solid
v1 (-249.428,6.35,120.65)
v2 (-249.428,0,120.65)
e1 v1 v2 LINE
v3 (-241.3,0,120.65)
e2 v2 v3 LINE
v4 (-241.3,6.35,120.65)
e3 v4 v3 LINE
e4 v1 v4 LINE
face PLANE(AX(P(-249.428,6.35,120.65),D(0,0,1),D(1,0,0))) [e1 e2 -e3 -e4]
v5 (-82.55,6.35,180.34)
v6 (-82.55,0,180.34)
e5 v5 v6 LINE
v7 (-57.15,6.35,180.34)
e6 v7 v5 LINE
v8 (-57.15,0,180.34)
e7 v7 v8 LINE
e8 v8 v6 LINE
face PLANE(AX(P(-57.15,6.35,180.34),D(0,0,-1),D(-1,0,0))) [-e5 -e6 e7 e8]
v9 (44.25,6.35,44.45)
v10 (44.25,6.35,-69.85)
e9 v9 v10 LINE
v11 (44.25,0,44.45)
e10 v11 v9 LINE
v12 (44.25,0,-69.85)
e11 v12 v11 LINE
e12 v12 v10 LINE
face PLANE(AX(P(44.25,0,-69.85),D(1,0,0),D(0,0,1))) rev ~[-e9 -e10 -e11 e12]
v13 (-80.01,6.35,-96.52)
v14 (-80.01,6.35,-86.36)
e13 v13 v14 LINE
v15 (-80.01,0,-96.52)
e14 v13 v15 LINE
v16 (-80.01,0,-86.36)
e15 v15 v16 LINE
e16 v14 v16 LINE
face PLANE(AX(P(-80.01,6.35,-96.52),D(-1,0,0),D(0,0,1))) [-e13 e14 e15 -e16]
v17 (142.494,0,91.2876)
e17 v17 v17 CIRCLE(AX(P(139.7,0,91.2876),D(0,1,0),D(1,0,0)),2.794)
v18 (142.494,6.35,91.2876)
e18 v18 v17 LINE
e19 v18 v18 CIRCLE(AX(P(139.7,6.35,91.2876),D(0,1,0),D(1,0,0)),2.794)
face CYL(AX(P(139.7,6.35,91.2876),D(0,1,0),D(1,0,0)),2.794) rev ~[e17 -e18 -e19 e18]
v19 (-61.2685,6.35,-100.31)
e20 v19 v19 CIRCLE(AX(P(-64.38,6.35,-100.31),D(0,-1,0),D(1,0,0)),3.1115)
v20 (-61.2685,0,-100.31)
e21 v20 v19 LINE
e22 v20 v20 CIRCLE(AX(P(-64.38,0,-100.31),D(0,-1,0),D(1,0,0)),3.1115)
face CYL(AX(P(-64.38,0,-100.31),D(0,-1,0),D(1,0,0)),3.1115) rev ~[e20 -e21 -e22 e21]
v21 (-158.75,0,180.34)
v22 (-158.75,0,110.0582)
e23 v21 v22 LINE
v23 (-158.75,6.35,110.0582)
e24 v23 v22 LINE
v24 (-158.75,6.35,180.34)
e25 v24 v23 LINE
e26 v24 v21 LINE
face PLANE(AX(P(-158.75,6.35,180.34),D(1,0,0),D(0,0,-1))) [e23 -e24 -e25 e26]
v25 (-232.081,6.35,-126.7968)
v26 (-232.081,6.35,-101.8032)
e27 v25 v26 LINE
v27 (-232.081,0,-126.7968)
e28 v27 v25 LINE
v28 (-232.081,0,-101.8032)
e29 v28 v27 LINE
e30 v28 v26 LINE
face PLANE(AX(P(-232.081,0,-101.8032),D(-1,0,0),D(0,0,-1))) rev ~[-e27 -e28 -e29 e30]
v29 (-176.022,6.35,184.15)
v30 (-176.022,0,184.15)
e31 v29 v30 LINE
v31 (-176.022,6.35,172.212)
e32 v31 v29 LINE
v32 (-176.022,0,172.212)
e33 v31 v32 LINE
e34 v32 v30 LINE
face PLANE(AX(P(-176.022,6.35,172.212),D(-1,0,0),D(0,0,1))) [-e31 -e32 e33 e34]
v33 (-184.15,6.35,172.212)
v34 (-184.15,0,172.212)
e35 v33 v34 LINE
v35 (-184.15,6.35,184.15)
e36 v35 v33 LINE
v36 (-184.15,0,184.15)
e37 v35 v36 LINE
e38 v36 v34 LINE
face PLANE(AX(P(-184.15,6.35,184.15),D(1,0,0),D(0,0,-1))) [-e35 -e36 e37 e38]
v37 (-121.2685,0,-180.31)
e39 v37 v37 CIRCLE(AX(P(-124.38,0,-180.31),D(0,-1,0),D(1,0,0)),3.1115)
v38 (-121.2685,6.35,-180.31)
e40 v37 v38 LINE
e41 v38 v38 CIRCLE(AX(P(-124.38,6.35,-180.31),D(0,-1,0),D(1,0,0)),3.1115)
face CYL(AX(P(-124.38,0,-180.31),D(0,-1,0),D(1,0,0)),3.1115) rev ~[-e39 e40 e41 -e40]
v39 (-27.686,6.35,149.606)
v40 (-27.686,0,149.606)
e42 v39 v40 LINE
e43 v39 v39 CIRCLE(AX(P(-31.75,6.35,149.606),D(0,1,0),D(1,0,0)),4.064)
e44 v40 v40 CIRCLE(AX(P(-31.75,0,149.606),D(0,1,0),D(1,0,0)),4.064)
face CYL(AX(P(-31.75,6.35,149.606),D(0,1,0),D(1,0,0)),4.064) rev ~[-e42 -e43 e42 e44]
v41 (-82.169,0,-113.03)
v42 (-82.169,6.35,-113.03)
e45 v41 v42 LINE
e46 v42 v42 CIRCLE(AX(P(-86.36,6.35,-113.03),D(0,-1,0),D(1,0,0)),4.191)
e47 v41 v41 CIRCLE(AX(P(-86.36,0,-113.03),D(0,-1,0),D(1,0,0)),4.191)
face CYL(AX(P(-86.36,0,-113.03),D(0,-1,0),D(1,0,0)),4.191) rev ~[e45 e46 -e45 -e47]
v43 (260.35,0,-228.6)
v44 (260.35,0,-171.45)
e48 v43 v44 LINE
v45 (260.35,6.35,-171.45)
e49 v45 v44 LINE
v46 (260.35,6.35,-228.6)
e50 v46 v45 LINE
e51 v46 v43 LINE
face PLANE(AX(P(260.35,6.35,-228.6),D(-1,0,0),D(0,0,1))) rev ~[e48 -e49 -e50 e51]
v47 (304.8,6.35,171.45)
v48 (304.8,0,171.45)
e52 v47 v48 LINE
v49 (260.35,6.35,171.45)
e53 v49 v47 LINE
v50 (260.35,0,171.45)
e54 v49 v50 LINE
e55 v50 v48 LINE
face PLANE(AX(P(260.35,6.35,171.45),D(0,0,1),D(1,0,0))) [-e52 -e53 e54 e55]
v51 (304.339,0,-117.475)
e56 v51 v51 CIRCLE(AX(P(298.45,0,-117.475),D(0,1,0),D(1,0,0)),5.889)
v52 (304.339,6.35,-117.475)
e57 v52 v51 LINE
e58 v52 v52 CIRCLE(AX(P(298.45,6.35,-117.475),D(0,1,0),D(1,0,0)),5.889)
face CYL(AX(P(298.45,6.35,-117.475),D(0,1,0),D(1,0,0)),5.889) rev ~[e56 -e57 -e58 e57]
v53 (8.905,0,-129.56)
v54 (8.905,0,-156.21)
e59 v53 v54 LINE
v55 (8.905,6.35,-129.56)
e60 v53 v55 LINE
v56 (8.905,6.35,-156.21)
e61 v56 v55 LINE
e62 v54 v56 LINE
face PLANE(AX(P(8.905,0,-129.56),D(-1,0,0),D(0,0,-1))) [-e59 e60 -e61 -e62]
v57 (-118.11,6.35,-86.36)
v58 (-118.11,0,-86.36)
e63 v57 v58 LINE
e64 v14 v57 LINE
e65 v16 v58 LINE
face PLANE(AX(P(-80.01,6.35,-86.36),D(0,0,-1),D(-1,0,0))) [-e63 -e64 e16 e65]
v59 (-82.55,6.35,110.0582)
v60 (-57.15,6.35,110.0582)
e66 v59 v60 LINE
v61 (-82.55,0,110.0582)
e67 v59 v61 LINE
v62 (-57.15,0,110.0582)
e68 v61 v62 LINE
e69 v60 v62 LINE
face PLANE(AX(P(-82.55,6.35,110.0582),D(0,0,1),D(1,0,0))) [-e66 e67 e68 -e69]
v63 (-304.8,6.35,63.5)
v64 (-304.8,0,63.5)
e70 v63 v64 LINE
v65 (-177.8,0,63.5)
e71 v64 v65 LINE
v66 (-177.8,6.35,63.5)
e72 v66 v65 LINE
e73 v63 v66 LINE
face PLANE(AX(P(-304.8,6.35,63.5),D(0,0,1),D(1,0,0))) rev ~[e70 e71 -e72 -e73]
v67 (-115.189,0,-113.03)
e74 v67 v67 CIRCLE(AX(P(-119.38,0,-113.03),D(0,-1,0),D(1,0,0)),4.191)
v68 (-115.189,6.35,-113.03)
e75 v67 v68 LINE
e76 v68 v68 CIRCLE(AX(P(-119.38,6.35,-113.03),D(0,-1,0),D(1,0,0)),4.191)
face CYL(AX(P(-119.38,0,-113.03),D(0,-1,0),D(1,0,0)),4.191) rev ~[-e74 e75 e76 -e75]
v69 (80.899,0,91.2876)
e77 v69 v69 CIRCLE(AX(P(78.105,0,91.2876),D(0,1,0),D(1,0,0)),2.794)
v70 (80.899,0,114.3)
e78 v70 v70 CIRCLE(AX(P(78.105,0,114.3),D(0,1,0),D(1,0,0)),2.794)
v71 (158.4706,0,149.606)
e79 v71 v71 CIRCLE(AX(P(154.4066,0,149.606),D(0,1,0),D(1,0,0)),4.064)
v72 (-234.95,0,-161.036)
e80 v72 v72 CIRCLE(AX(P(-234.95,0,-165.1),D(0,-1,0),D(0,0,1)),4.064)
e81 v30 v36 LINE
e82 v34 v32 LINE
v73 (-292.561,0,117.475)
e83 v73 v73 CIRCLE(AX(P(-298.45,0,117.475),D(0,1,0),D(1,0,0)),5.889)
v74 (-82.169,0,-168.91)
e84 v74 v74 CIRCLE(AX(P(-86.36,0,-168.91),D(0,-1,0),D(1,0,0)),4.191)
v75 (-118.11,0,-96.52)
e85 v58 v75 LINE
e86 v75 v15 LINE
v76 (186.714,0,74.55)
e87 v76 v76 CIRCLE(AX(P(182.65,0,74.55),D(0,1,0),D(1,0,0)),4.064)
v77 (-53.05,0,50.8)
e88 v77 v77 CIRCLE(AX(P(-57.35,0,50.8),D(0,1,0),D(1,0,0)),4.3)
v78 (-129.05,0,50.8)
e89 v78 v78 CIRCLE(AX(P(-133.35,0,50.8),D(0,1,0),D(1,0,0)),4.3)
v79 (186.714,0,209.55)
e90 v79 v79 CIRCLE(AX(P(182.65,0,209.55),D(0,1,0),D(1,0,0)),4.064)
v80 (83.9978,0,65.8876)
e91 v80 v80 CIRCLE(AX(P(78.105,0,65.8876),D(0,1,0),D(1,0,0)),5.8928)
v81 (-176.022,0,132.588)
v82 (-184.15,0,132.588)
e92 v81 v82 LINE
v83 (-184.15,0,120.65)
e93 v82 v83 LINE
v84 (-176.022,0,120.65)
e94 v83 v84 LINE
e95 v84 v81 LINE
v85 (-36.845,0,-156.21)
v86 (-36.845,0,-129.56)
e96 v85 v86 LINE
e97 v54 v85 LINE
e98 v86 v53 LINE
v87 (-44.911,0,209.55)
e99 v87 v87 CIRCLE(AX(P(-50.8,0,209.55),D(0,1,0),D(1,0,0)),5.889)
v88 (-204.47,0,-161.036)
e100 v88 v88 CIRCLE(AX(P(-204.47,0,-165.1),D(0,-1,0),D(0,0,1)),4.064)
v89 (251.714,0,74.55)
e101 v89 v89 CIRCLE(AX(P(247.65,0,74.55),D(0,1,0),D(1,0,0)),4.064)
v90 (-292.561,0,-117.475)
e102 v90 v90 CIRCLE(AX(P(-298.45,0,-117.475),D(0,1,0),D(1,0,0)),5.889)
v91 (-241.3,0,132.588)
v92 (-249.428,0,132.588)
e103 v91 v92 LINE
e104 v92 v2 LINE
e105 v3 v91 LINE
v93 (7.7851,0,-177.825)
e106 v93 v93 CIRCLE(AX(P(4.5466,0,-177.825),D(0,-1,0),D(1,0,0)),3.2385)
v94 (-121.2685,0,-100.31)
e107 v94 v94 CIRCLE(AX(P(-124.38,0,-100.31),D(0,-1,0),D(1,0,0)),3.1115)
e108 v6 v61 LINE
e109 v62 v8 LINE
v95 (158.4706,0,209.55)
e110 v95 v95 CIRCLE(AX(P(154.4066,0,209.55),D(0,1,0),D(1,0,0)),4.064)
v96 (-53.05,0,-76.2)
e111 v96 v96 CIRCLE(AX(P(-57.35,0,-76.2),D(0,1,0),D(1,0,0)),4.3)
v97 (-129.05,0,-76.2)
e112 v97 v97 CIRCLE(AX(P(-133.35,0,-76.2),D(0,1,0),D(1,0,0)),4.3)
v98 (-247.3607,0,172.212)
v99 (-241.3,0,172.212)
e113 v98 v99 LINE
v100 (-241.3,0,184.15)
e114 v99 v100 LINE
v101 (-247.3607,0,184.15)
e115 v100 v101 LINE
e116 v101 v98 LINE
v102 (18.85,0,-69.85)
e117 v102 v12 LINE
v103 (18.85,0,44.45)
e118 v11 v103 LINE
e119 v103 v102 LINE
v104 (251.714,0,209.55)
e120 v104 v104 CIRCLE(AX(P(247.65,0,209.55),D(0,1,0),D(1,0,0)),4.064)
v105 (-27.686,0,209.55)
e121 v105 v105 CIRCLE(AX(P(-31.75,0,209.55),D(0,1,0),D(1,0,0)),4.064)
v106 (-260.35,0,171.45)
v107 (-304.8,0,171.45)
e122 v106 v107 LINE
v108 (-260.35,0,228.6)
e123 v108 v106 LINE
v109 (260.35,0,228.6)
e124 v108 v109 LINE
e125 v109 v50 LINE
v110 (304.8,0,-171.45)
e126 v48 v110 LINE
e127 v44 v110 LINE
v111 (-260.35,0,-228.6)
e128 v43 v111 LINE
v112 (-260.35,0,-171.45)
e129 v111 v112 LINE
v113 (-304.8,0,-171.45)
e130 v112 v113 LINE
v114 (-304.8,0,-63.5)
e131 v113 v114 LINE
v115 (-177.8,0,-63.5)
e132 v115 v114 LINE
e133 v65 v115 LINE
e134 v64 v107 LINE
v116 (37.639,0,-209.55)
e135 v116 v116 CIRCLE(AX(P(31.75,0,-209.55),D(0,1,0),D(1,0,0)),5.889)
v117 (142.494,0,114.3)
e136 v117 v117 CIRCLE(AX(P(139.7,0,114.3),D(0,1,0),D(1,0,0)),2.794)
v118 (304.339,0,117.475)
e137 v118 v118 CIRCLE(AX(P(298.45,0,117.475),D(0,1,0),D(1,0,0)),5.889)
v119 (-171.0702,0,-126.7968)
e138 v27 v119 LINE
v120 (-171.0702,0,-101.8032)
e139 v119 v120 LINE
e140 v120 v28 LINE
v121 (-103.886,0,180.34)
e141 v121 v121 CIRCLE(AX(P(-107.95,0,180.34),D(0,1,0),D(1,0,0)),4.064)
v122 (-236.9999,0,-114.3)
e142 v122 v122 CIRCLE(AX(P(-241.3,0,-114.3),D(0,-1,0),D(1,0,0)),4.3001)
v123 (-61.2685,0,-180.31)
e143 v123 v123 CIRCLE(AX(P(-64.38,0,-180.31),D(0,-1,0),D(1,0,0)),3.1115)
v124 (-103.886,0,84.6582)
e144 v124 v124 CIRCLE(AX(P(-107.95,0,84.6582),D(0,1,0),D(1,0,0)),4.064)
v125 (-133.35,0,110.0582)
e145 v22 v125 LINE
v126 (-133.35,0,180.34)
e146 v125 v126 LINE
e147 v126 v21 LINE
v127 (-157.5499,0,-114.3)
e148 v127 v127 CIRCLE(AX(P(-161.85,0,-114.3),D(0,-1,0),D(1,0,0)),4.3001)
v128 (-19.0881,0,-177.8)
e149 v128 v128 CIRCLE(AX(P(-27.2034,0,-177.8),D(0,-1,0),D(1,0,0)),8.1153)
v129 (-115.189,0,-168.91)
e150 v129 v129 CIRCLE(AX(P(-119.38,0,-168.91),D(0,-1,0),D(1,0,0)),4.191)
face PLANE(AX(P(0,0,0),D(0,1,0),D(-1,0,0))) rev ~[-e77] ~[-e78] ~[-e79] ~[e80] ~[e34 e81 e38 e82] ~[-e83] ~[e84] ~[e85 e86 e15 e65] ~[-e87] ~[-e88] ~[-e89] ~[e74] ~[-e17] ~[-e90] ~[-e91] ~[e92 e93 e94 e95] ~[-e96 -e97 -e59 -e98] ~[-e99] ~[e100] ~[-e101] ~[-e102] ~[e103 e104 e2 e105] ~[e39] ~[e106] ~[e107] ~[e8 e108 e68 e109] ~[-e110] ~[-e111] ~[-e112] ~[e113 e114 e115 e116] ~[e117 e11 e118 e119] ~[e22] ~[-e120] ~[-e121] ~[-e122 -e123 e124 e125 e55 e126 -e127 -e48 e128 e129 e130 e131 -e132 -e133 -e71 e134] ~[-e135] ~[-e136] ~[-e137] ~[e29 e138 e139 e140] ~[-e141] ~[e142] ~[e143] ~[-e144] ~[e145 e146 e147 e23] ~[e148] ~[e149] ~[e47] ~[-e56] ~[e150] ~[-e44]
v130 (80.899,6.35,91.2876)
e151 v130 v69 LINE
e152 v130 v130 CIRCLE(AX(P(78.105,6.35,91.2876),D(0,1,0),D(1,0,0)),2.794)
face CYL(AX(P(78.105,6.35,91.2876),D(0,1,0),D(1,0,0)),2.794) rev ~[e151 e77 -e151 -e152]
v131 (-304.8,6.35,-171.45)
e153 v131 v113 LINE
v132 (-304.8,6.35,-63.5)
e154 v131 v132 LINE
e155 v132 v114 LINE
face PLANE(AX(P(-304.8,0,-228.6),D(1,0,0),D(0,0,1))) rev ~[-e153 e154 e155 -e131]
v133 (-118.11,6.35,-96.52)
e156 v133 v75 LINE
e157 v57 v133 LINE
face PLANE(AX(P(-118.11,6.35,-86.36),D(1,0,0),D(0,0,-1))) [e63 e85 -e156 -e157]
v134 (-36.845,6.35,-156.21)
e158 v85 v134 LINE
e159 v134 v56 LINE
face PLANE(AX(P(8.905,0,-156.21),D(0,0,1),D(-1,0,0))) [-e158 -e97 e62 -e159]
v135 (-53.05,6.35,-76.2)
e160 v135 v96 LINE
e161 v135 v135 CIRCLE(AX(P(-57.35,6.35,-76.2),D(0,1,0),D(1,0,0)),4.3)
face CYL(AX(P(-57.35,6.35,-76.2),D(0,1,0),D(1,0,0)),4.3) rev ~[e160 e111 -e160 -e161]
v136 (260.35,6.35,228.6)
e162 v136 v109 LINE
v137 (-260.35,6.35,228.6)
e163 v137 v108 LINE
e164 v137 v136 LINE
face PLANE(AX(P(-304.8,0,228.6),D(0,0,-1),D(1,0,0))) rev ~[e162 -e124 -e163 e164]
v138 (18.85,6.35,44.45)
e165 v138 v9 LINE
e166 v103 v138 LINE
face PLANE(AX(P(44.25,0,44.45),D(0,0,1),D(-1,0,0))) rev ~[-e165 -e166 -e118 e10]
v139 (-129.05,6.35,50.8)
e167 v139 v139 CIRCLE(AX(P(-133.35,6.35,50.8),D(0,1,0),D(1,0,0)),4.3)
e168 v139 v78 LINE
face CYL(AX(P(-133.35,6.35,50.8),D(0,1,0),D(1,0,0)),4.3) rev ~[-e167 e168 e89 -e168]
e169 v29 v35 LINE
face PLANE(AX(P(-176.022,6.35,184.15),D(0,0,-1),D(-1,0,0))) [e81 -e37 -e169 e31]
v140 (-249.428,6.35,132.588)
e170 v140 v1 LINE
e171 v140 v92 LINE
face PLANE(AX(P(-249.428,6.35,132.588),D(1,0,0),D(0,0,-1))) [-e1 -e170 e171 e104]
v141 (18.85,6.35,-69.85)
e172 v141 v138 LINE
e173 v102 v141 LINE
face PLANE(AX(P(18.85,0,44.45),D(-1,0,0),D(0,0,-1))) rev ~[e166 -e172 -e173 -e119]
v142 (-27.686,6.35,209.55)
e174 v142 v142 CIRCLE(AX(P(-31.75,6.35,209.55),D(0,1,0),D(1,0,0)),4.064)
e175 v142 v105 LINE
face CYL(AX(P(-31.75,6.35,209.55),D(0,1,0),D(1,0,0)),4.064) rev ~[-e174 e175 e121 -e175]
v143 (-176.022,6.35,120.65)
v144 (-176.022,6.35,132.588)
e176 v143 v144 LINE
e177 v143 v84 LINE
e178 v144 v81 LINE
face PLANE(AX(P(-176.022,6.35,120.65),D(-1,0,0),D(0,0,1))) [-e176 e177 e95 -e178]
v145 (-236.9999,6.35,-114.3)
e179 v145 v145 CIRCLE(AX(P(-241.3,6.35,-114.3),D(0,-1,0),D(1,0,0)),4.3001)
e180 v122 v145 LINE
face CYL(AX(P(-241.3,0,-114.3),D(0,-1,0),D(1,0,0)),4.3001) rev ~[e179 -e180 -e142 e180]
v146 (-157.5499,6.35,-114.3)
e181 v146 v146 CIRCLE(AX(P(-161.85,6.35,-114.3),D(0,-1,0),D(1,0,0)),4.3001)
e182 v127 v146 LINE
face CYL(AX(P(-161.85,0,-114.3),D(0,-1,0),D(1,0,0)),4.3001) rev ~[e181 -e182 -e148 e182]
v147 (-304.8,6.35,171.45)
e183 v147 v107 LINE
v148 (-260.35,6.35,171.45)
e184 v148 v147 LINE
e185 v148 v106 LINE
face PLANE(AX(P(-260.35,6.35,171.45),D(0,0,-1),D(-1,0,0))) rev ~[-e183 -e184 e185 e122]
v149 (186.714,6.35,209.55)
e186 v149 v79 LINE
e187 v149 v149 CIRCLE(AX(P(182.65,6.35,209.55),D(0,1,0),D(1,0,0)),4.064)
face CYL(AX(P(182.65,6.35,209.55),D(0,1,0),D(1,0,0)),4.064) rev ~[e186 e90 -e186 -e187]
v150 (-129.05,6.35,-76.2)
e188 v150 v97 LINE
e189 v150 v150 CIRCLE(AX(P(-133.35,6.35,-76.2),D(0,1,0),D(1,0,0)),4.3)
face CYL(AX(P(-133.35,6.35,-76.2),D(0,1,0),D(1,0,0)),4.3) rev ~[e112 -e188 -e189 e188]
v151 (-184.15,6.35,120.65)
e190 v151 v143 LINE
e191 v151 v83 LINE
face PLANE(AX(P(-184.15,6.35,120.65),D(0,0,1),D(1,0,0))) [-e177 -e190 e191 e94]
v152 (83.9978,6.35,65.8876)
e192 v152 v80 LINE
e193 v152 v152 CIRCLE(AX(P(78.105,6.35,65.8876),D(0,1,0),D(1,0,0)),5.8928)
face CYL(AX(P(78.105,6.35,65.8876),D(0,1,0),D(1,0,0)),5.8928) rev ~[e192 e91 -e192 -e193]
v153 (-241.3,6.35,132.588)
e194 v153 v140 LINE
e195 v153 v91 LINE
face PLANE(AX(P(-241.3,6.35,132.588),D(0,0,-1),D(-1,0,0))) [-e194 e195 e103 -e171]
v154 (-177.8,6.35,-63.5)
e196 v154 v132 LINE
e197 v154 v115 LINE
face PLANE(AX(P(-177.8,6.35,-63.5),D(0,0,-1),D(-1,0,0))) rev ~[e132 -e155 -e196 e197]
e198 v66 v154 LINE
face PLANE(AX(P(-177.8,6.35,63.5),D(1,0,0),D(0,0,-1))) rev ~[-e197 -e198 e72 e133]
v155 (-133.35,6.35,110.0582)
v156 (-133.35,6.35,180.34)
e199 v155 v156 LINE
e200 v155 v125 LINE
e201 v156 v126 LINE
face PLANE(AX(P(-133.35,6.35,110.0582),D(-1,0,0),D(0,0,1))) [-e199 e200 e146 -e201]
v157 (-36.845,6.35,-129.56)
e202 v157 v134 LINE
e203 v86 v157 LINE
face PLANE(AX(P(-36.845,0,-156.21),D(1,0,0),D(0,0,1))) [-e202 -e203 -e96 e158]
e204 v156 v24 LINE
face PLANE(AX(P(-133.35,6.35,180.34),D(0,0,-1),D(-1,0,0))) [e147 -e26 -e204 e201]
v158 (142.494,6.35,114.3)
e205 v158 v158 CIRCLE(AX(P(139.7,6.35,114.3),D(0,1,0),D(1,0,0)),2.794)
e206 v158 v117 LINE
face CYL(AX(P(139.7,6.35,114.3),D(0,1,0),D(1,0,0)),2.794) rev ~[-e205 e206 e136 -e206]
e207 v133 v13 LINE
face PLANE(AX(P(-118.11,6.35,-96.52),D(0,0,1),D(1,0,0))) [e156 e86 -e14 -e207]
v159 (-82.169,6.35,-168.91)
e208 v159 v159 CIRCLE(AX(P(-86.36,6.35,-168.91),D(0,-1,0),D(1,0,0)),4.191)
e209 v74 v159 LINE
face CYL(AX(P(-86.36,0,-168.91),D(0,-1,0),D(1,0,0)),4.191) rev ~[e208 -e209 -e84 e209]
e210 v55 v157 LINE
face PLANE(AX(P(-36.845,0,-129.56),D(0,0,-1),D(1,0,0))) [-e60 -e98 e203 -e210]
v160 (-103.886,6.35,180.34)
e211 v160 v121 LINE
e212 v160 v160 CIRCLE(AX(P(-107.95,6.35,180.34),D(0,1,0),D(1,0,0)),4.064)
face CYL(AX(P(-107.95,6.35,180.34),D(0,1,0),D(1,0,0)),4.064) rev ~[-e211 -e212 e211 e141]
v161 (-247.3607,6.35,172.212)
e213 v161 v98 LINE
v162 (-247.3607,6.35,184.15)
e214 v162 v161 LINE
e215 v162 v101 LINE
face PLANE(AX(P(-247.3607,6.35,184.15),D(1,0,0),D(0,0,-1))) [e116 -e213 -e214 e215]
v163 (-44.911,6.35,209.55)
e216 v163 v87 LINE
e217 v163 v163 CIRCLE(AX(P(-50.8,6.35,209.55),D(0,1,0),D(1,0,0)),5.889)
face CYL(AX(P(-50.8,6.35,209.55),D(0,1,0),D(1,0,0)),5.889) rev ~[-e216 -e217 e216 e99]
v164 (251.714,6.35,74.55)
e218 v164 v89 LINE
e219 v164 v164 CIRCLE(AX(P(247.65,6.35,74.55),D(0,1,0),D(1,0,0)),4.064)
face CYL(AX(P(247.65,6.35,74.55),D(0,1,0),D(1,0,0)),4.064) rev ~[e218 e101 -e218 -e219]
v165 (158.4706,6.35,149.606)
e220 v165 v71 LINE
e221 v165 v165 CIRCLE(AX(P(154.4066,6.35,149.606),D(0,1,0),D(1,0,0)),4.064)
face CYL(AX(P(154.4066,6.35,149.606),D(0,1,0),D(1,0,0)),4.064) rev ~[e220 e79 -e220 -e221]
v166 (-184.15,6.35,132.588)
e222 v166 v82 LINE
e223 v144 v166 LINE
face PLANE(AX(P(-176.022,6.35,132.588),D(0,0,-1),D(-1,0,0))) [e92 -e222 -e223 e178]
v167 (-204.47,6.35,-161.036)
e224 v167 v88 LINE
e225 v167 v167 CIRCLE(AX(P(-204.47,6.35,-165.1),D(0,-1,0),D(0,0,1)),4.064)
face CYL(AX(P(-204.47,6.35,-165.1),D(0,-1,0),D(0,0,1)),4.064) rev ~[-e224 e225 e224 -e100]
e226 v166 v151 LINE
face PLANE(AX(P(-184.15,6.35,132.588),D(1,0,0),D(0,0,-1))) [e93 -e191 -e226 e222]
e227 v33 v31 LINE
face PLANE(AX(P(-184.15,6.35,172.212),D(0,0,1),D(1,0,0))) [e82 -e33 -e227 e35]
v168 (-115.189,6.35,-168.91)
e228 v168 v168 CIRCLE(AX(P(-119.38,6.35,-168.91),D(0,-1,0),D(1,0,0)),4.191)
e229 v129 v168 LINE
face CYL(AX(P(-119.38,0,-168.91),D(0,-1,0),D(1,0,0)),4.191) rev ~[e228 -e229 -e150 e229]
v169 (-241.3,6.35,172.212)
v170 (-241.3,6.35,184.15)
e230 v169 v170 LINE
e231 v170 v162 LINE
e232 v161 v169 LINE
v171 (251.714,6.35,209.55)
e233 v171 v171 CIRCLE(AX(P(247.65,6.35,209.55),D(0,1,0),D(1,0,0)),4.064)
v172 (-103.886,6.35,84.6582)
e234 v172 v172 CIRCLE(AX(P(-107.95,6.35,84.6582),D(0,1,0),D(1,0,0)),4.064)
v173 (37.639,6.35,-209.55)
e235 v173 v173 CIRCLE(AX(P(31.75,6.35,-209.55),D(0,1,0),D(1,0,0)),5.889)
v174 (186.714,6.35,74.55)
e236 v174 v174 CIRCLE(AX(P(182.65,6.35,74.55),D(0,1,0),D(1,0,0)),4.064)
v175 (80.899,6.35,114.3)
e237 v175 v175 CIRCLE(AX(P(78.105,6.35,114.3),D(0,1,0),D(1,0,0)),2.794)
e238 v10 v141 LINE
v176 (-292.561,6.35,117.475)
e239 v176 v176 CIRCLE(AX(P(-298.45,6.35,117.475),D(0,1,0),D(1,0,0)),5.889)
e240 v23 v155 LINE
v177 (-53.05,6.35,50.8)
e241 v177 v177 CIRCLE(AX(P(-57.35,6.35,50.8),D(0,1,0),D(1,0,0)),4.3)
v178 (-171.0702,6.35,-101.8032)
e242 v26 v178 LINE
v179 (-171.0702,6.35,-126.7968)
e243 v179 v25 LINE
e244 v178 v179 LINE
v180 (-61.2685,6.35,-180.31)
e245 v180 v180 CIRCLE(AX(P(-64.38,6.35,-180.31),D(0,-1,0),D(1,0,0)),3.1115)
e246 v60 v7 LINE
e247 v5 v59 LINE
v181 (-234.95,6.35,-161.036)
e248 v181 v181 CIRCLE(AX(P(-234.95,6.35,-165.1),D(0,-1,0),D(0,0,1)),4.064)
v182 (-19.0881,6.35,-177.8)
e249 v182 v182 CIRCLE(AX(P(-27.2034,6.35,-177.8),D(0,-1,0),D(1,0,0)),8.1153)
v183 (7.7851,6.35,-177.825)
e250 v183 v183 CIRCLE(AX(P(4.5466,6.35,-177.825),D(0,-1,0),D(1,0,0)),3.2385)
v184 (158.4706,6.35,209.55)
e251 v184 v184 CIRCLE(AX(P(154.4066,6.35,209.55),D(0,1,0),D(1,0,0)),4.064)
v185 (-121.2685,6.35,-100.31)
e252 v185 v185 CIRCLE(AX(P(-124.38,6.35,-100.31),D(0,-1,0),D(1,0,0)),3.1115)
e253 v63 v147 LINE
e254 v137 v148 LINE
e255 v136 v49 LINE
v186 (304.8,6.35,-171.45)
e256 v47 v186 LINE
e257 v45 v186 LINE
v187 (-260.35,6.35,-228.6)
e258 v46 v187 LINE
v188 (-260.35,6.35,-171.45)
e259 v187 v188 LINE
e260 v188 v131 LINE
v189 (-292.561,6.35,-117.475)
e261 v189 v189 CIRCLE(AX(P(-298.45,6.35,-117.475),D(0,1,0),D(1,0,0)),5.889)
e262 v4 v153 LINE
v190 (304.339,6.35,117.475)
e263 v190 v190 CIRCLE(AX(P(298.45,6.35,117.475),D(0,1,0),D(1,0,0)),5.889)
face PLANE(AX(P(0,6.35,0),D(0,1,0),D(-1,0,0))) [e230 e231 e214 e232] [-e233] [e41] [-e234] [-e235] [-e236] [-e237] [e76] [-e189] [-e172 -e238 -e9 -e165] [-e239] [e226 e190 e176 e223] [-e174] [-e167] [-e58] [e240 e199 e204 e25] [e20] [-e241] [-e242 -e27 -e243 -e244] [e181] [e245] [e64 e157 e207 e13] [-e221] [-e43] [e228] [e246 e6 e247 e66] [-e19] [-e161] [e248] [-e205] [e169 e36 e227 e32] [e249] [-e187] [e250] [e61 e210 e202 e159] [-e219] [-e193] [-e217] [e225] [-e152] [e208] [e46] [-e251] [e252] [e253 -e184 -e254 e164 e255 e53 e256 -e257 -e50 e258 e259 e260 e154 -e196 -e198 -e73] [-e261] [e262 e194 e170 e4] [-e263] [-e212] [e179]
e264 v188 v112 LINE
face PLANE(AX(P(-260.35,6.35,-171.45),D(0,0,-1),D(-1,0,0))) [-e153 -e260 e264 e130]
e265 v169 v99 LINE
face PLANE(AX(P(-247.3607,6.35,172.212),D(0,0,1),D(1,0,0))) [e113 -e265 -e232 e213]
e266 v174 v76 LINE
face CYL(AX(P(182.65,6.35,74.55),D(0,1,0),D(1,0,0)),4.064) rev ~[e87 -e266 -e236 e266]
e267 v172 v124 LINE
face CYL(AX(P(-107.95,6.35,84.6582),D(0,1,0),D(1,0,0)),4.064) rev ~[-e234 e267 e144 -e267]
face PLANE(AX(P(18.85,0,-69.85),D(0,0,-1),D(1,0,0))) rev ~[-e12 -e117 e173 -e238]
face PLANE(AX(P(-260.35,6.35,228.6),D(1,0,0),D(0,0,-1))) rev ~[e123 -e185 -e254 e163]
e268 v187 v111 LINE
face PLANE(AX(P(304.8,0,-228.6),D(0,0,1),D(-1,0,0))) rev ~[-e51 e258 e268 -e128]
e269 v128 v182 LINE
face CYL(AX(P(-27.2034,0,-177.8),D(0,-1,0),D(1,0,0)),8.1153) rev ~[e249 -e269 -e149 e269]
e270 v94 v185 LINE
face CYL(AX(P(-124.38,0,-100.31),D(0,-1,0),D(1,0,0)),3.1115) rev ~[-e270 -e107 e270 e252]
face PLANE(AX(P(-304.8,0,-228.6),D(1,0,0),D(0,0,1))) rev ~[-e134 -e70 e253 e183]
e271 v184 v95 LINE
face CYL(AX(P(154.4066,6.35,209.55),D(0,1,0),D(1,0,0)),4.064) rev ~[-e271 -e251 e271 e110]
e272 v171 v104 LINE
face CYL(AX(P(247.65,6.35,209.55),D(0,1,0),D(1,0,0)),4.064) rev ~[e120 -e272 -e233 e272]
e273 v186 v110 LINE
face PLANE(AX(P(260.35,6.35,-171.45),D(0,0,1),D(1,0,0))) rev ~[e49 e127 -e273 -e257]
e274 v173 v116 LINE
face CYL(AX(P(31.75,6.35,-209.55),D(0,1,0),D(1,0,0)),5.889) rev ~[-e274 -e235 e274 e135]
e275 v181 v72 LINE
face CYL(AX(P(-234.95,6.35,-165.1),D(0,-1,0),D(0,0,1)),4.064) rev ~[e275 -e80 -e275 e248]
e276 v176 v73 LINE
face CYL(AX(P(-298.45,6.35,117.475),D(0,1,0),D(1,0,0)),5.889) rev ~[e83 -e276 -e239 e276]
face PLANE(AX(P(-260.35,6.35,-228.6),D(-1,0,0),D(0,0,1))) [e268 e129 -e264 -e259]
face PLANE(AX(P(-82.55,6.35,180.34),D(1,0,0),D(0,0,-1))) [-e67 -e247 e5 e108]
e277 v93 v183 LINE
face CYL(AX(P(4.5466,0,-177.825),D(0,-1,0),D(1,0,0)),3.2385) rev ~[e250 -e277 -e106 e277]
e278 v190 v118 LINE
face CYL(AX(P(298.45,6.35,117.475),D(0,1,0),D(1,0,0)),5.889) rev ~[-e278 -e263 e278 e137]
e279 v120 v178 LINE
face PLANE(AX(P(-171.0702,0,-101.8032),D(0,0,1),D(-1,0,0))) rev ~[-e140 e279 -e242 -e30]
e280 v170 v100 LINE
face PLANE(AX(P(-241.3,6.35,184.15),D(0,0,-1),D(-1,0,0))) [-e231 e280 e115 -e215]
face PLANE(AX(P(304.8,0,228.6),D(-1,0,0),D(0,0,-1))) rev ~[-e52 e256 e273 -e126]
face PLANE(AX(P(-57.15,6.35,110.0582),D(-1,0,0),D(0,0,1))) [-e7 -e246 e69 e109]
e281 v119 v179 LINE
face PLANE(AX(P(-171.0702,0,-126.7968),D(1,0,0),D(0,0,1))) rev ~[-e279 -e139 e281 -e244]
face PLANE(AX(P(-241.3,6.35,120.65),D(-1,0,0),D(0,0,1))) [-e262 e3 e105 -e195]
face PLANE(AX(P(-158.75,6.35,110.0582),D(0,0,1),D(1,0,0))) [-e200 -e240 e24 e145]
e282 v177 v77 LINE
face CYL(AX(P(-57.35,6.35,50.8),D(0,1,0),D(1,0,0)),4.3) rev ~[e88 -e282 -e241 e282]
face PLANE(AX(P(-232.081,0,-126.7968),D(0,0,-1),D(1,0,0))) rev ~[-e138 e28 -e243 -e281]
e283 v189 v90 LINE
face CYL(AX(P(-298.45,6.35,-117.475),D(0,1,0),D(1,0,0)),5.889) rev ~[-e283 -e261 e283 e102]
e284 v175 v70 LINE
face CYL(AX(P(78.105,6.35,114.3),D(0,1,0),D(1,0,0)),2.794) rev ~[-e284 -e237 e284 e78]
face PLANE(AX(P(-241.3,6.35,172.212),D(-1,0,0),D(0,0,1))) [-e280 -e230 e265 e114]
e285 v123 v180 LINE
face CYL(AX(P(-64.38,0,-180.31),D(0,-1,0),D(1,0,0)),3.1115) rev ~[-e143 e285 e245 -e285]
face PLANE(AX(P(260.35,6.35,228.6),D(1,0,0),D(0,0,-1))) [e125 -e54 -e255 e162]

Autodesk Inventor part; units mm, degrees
ref_plane "YZ Plane" through (0, 0, 0) normal (1, 0, 0) x (0, 1, 0)
ref_plane "XZ Plane" through (0, 0, 0) normal (0, 1, 0) x (-1, 0, 0)
ref_plane "XY Plane" through (0, 0, 0) normal (0, 0, 1) x (1, 0, 0)
sketch "Sketch1" plane through (0, 0, 0) normal (0, 1, 0) x (-1, 0, 0)
  line L0 (-304.8, -228.6) -> (304.8, -228.6)
  line L1 (304.8, -228.6) -> (304.8, 228.6)
  line L2 (304.8, 228.6) -> (-304.8, 228.6)
  line L3 (-304.8, 228.6) -> (-304.8, -228.6)
  line L4 (-304.8, -228.6) -> (304.8, 228.6) construction
  line L5 (304.8, -228.6) -> (-304.8, 228.6) construction
  point P0 (0, 0)
  dimension "d0" = 609.6
  dimension "d1" = 457.2
extrude "Extrusion1" add sketch "Sketch1" along normal blind 6.35
sketch "Sketch2" plane through (0, 6.35, 0) normal (0, 1, 0) x (1, 0, 0)
  line L0 (-304.8, 228.6) -> (-304.8, -228.6) projected
  line L1 (-304.8, -228.6) -> (-260.35, -228.6)
  line L2 (-260.35, -228.6) -> (-260.35, -171.45)
  line L3 (-260.35, -171.45) -> (-304.8, -171.45)
  line L4 (-304.8, -171.45) -> (-304.8, -228.6)
  line L5 (-304.8, 228.6) -> (-260.35, 228.6)
  line L6 (-260.35, 228.6) -> (-260.35, 171.45)
  line L7 (-260.35, 171.45) -> (-304.8, 171.45)
  line L8 (-304.8, 171.45) -> (-304.8, 228.6)
  line L9 (304.8, 228.6) -> (-304.8, 228.6) projected
  line L10 (304.8, 228.6) -> (260.35, 228.6)
  line L11 (260.35, 228.6) -> (260.35, 171.45)
  line L12 (260.35, 171.45) -> (304.8, 171.45)
  line L13 (304.8, 171.45) -> (304.8, 228.6)
  line L14 (-304.8, -228.6) -> (304.8, -228.6) projected
  line L15 (304.8, -228.6) -> (260.35, -228.6)
  line L16 (260.35, -228.6) -> (260.35, -171.45)
  line L17 (260.35, -171.45) -> (304.8, -171.45)
  line L18 (304.8, -171.45) -> (304.8, -228.6)
  point P0 (0, 0)
  dimension "d4" = 44.45
  dimension "d5" = 57.15
  dimension "d6" = 44.45
  dimension "d7" = 57.15
  dimension "d8" = 44.45
  dimension "d9" = 57.15
  dimension "d10" = 44.45
  dimension "d11" = 57.15
extrude "Extrusion2" cut sketch "Sketch2" against normal blind 6.35
sketch "Sketch3" plane through (0, 6.35, 0) normal (0, 1, 0) x (1, 0, 0)
  line L0 (-260.35, -228.6) -> (260.35, -228.6) projected
  line L1 (304.8, -171.45) -> (304.8, 171.45) projected
  point P0 (0, 0)
sketch "Sketch4" plane through (0, 6.35, 0) normal (0, 1, 0) x (1, 0, 0)
  line L0 (-304.8, -63.5) -> (-177.8, -63.5)
  line L1 (-177.8, -63.5) -> (-177.8, 63.5)
  line L2 (-177.8, 63.5) -> (-304.8, 63.5)
  line L3 (-304.8, 63.5) -> (-304.8, -63.5)
  line L4 (-260.35, -228.6) -> (260.35, -228.6) projected
  line L5 (260.35, 228.6) -> (-260.35, 228.6) projected
  line L6 (-304.8, 171.45) -> (-304.8, -171.45) projected
  point P0 (0, 0)
  dimension "d17" = 165.1
  dimension "d18" = 165.1
  dimension "d23" = 127
  dimension "d24" = 0
extrude "Extrusion3" cut sketch "Sketch4" against normal blind 6.35
sketch "Sketch5" plane through (0, 6.35, 0) normal (0, 1, 0) x (1, 0, 0)
  circle A0 centre (-57.35, 76.2) radius 4.3
  circle A1 centre (-133.35, 76.2) radius 4.3
  circle A2 centre (-133.35, -50.8) radius 4.3
  circle A3 centre (-57.35, -50.8) radius 4.3
  line L0 (260.35, 228.6) -> (-260.35, 228.6) projected
  line L1 (-177.8, 63.5) -> (-177.8, -63.5) projected
  point P0 (0, 0)
  dimension "d25" = 8.6
  dimension "d26" = 8.6
  dimension "d27" = 8.6
  dimension "d28" = 8.6
  dimension "d29" = 127
  dimension "d30" = 127
  dimension "d31" = 152.4
  dimension "d32" = 76
  dimension "d33" = 76
  dimension "d34" = 44.45
  dimension "d35" = 44.45
extrude "Extrusion4" cut sketch "Sketch5" against normal blind 25.4
sketch "Sketch6" plane through (0, 6.35, 0) normal (0, 1, 0) x (1, 0, 0)
  circle A0 centre (-204.47, 165.1) radius 4.064
  circle A1 centre (-234.95, 165.1) radius 4.064
  line L0 (-260.35, 228.6) -> (-260.35, 171.45) projected
  line L1 (260.35, 228.6) -> (-260.35, 228.6) projected
  point P0 (0, 0)
  dimension "d38" = 8.128
  dimension "d40" = 8.128
  dimension "d41" = 30.48
  dimension "d42" = 25.4
  dimension "d43" = 63.5
  dimension "d44" = 63.5
hole "Hole1" at (-204.47, 6.35, -165.1) at (-234.95, 6.35, -165.1) direction (0, -1, 0) diameter 8.128 end through all
sketch "Sketch7" plane through (0, 0, 0) normal (0, -1, 0) x (1, 0, 0)
  circle A0 centre (-161.85, -114.3) radius 4.3001
  line L0 (260.35, -228.6) -> (-260.35, -228.6) projected
  line L1 (-260.35, -171.45) -> (-260.35, -228.6) projected
  circle A1 centre (-241.3, -114.3) radius 4.3001
  line L2 (-232.081, -126.7968) -> (-171.0702, -126.7968)
  line L3 (-171.0702, -126.7968) -> (-171.0702, -101.8032)
  line L4 (-171.0702, -101.8032) -> (-232.081, -101.8032)
  line L5 (-232.081, -101.8032) -> (-232.081, -126.7968)
  line L6 (-232.081, -126.7968) -> (-171.0702, -101.8032) construction
  line L7 (-171.0702, -126.7968) -> (-232.081, -101.8032) construction
  line L8 (-177.8, -63.5) -> (-304.8, -63.5) projected
  point P0 (0, 0)
  point P1 (-201.5756, -114.3)
  dimension "d55" = 8.6002
  dimension "d90" = 8.6002
  dimension "d91" = 79.45
  dimension "d92" = 61.0108
  dimension "d93" = 24.9936
  dimension "d94" = 9.2202
  dimension "d95" = 19.05
  dimension "d96" = 50.8
  dimension "d97" = 50.8
  dimension "d98" = 50.8
sketch "Sketch8" plane through (0, 0, 0) normal (0, -1, 0) x (1, 0, 0)
  circle A0 centre (-86.36, -168.91) radius 4.191
  circle A1 centre (-119.38, -168.91) radius 4.191
  circle A2 centre (-86.36, -113.03) radius 4.191
  circle A3 centre (-119.38, -113.03) radius 4.191
  line L0 (260.35, -228.6) -> (-260.35, -228.6) projected
  line L1 (-177.8, 63.5) -> (-177.8, -63.5) projected
  circle A4 centre (-124.38, -180.31) radius 3.1115
  circle A5 centre (-64.38, -180.31) radius 3.1115
  circle A6 centre (-64.38, -100.31) radius 3.1115
  circle A7 centre (-124.38, -100.31) radius 3.1115
  point P0 (0, 0)
  dimension "d67" = 8.382
  dimension "d68" = 8.382
  dimension "d69" = 33.02
  dimension "d70" = 8.382
  dimension "d71" = 8.382
  dimension "d72" = 33.02
  dimension "d73" = 55.88
  dimension "d74" = 55.88
  dimension "d82" = 59.69
  dimension "d83" = 58.42
  dimension "d89" = 59.69
  dimension "d101" = 58.42
  dimension "d259" = 6.223
  dimension "d260" = 6.223
  dimension "d261" = 6.223
  dimension "d262" = 6.223
  dimension "d263" = 60
  dimension "d264" = 80
  dimension "d265" = 11.4
  dimension "d266" = 5
  dimension "d267" = 5
  dimension "d268" = 80
  dimension "d269" = 60
extrude "Extrusion6" cut sketch "Sketch7" against normal blind 25.4
sketch "Sketch9" plane through (0, 0, 0) normal (0, -1, 0) x (1, 0, 0)
  circle A0 centre (-27.2034, -177.8) radius 8.1153
  line L0 (260.35, -228.6) -> (-260.35, -228.6) projected
  line L1 (-260.35, -171.45) -> (-260.35, -228.6) projected
  circle A1 centre (4.5466, -177.825) radius 3.2385
  point P0 (0, 0)
  point P1 (7.7579, -178.2441)
  point P2 (7.7579, -177.4059)
  dimension "d102" = 16.2306
  dimension "d103" = 50.8
  dimension "d104" = 233.1466
  dimension "d246" = 6.477
  dimension "d250" = 31.75
sketch "Sketch10" plane through (0, 0, 0) normal (0, -1, 0) x (1, 0, 0)
  point P0 (0, 0)
sketch "Sketch11" plane through (0, 0, 0) normal (0, -1, 0) x (1, 0, 0)
  line L0 (-36.845, -129.56) -> (8.905, -129.56)
  line L1 (8.905, -129.56) -> (8.905, -156.21)
  line L2 (8.905, -156.21) -> (-36.845, -156.21)
  line L3 (-36.845, -156.21) -> (-36.845, -129.56)
  line L4 (-36.845, -129.56) -> (8.905, -156.21) construction
  line L5 (8.905, -129.56) -> (-36.845, -156.21) construction
  line L6 (260.35, -228.6) -> (-260.35, -228.6) projected
  line L7 (-260.35, -171.45) -> (-260.35, -228.6) projected
  point P0 (0, 0)
  point P1 (-13.97, -142.885)
  dimension "d107" = 45.75
  dimension "d108" = 26.65
  dimension "d111" = 72.39
  dimension "d112" = 246.38
extrude "Extrusion8" cut sketch "Sketch11" against normal blind 25.4
sketch "Sketch12" plane through (0, 6.35, 0) normal (0, 1, 0) x (1, 0, 0)
  circle A0 centre (247.65, -209.55) radius 4.064
  circle A1 centre (182.65, -209.55) radius 4.064
  circle A2 centre (247.65, -74.55) radius 4.064
  circle A3 centre (182.65, -74.55) radius 4.064
  line L0 (304.8, -171.45) -> (304.8, 171.45) projected
  line L1 (-260.35, -228.6) -> (260.35, -228.6) projected
  line L2 (-260.35, -171.45) -> (-260.35, -228.6) projected
  line L3 (260.35, -228.6) -> (260.35, -171.45) projected
  point P0 (0, 0)
  dimension "d113" = 8.128
  dimension "d114" = 8.128
  dimension "d115" = 8.128
  dimension "d116" = 8.128
  dimension "d119" = 19.05
  dimension "d120" = 19.05
  dimension "d121" = 135
  dimension "d122" = 135
  dimension "d123" = 65
  dimension "d124" = 65
  dimension "d161" = 12.7
  dimension "d162" = 12.7
extrude "Extrusion9" cut sketch "Sketch12" against normal blind 25.4
sketch "Sketch13" plane through (0, 6.35, 0) normal (0, 1, 0) x (1, 0, 0)
  circle A0 centre (154.4066, -209.55) radius 4.064
  line L0 (-260.35, -228.6) -> (260.35, -228.6) projected
  circle A1 centre (-31.75, -209.55) radius 4.064
  line L1 (260.35, -228.6) -> (260.35, -171.45) projected
  circle A2 centre (154.4066, -149.606) radius 4.064
  circle A3 centre (-31.75, -149.606) radius 4.064
  line L2 (-260.35, -228.6) -> (-260.35, -171.45) projected
  point P0 (0, 0)
  dimension "d127" = 8.128
  dimension "d128" = 19.05
  dimension "d129" = 8.128
  dimension "d130" = 19.05
  dimension "d131" = 186.1566
  dimension "d133" = 8.128
  dimension "d135" = 59.944
  dimension "d136" = 8.128
  dimension "d137" = 186.1566
  dimension "d138" = 59.944
  dimension "d157" = 228.6
  dimension "d158" = 228.6
extrude "Extrusion10" cut sketch "Sketch13" against normal blind 25.4
sketch "Sketch14" plane through (0, 6.35, 0) normal (0, 1, 0) x (1, 0, 0)
  point P0 (0, 0)
sketch "Sketch15" plane through (0, 6.35, 0) normal (0, 1, 0) x (1, 0, 0)
  circle A0 centre (-107.95, -180.34) radius 4.064
  circle A1 centre (-107.95, -84.6582) radius 4.064
  line L0 (260.35, -228.6) -> (260.35, -171.45) projected
  line L1 (-260.35, -228.6) -> (260.35, -228.6) projected
  line L2 (-260.35, -228.6) -> (-260.35, -171.45) projected
  point P0 (0, 0)
  dimension "d142" = 8.128
  dimension "d143" = 8.128
  dimension "d145" = 48.26
  dimension "d146" = 95.6818
  dimension "d155" = 152.4
  dimension "d156" = 152.4
extrude "Extrusion11" cut sketch "Sketch15" against normal blind 12.7
sketch "Sketch17" plane through (0, 6.35, 0) normal (0, 1, 0) x (1, 0, 0)
  line L0 (-57.15, -180.34) -> (-82.55, -180.34)
  line L1 (-82.55, -180.34) -> (-82.55, -110.0582)
  line L2 (-82.55, -110.0582) -> (-57.15, -110.0582)
  line L3 (-57.15, -110.0582) -> (-57.15, -180.34)
  circle A0 centre (-107.95, -180.34) radius 4.064 projected
  circle A1 centre (-107.95, -84.6582) radius 4.064 projected
  line L4 (-133.35, -180.34) -> (-158.75, -180.34)
  line L5 (-158.75, -180.34) -> (-158.75, -110.0582)
  line L6 (-158.75, -110.0582) -> (-133.35, -110.0582)
  line L7 (-133.35, -110.0582) -> (-133.35, -180.34)
  point P0 (0, 0)
  dimension "d163" = 0
  dimension "d164" = 25.4
  dimension "d165" = 25.4
  dimension "d166" = 25.4
  dimension "d167" = 0
  dimension "d168" = 25.4
  dimension "d169" = 25.4
  dimension "d170" = 25.4
  dimension "d171" = 25.4
extrude "Extrusion13" cut sketch "Sketch17" against normal blind 12.7 contours L0 L1 L2 L3 | L4 L5 L6 L7
sketch "Sketch18" plane through (0, 0, 0) normal (0, -1, 0) x (1, 0, 0)
  line L0 (44.25, 44.45) -> (18.85, 44.45)
  line L1 (18.85, 44.45) -> (18.85, -69.85)
  line L2 (18.85, -69.85) -> (44.25, -69.85)
  line L3 (44.25, -69.85) -> (44.25, 44.45)
  circle A0 centre (-57.35, -76.2) radius 4.3 projected
  circle A1 centre (-57.35, 50.8) radius 4.3 projected
  point P0 (0, 0)
  dimension "d174" = 6.35
  dimension "d175" = 6.35
  dimension "d176" = 76.2
  dimension "d177" = 25.4
extrude "Extrusion14" cut sketch "Sketch18" against normal blind 12.7 contours L3 L2 L1 L0
sketch "Sketch19" plane through (0, 6.35, 0) normal (0, 1, 0) x (1, 0, 0)
  line L0 (-241.3, -184.15) -> (-247.3607, -184.15)
  line L1 (-247.3607, -184.15) -> (-247.3607, -172.212)
  line L2 (-247.3607, -172.212) -> (-241.3, -172.212)
  line L3 (-241.3, -172.212) -> (-241.3, -184.15)
  line L4 (-176.022, -184.15) -> (-184.15, -184.15)
  line L5 (-184.15, -184.15) -> (-184.15, -172.212)
  line L6 (-184.15, -172.212) -> (-176.022, -172.212)
  line L7 (-176.022, -172.212) -> (-176.022, -184.15)
  line L8 (-260.35, -171.45) -> (-260.35, -228.6) projected
  line L9 (-260.35, -228.6) -> (260.35, -228.6) projected
  line L10 (-176.022, -132.588) -> (-184.15, -132.588)
  line L11 (-184.15, -132.588) -> (-184.15, -120.65)
  line L12 (-184.15, -120.65) -> (-176.022, -120.65)
  line L13 (-176.022, -120.65) -> (-176.022, -132.588)
  line L14 (-241.3, -132.588) -> (-249.428, -132.588)
  line L15 (-249.428, -132.588) -> (-249.428, -120.65)
  line L16 (-249.428, -120.65) -> (-241.3, -120.65)
  line L17 (-241.3, -120.65) -> (-241.3, -132.588)
  point P0 (0, 0)
  dimension "d180" = 8.128
  dimension "d181" = 76.2
  dimension "d182" = 44.45
  dimension "d183" = 11.938
  dimension "d184" = 57.15
  dimension "d185" = 11.938
  dimension "d186" = 8.128
  dimension "d187" = 8.128
  dimension "d188" = 11.938
  dimension "d189" = 76.2
  dimension "d190" = 57.15
  dimension "d191" = 63.5
  dimension "d192" = 63.5
extrude "Extrusion15" cut sketch "Sketch19" against normal blind 12.7
sketch "Sketch21" plane through (0, 6.35, 0) normal (0, 1, 0) x (1, 0, 0)
  circle A0 centre (139.7, -91.2876) radius 2.794
  circle A1 centre (78.105, -91.2876) radius 2.794
  circle A2 centre (78.105, -114.3) radius 2.794
  circle A3 centre (139.7, -114.3) radius 2.794
  line L0 (304.8, -171.45) -> (304.8, 171.45) projected
  line L1 (-260.35, -228.6) -> (260.35, -228.6) projected
  circle A4 centre (78.105, -65.8876) radius 5.8928
  point P0 (0, 0)
  dimension "d201" = 5.588
  dimension "d202" = 5.588
  dimension "d203" = 5.588
  dimension "d204" = 5.588
  dimension "d205" = 23.0124
  dimension "d206" = 61.595
  dimension "d207" = 61.595
  dimension "d208" = 165.1
  dimension "d209" = 165.1
  dimension "d210" = 23.0124
  dimension "d211" = 114.3
  dimension "d212" = 114.3
  dimension "d257" = 11.7856
  dimension "d258" = 25.4
sketch "Sketch22" plane through (0, 6.35, 0) normal (0, 1, 0) x (1, 0, 0)
  circle A0 centre (-298.45, 117.475) radius 5.889
  line L0 (-304.8, 171.45) -> (-304.8, 63.5) projected
  line L1 (-260.35, 171.45) -> (-304.8, 171.45) projected
  circle A1 centre (-298.45, -117.475) radius 5.889
  line L2 (-304.8, -63.5) -> (-304.8, -171.45) projected
  line L3 (-177.8, -63.5) -> (-304.8, -63.5) projected
  circle A2 centre (298.45, 117.475) radius 5.889
  line L4 (304.8, 171.45) -> (260.35, 171.45) projected
  circle A3 centre (298.45, -117.475) radius 5.889
  line L5 (260.35, -171.45) -> (304.8, -171.45) projected
  circle A4 centre (-50.8, -209.55) radius 5.889
  line L6 (-260.35, -228.6) -> (260.35, -228.6) projected
  line L7 (-260.35, -171.45) -> (-260.35, -228.6) projected
  circle A5 centre (31.75, 209.55) radius 5.889
  line L8 (-260.35, 228.6) -> (-260.35, 171.45) projected
  line L9 (260.35, 228.6) -> (-260.35, 228.6) projected
  line L10 (-304.8, 171.45) -> (-304.8, 63.5) projected
  line L11 (-304.8, -63.5) -> (-304.8, -171.45) projected
  line L12 (304.8, -171.45) -> (304.8, 171.45) projected
  point P0 (0, 0)
  dimension "d215" = 11.778
  dimension "d216" = 6.35
  dimension "d217" = 53.975
  dimension "d218" = 11.778
  dimension "d219" = 6.35
  dimension "d220" = 53.975
  dimension "d221" = 11.778
  dimension "d223" = 53.975
  dimension "d224" = 11.778
  dimension "d225" = 53.975
  dimension "d227" = 11.778
  dimension "d228" = 19.05
  dimension "d229" = 209.55
  dimension "d230" = 11.778
  dimension "d231" = 292.1
  dimension "d232" = 19.05
  dimension "d240" = 6.35
  dimension "d241" = 6.35
extrude "Extrusion20" cut sketch "Sketch22" against normal blind 6.35
extrude "Extrusion21" cut sketch "Sketch9" against normal blind 25.4
extrude "Extrusion22" cut sketch "Sketch21" against normal blind 11.7856
extrude "Extrusion23" cut sketch "Sketch8" against normal blind 25.4
sketch "Sketch20" plane through (0, 6.35, 0) normal (0, 1, 0) x (1, 0, 0)
  line L0 (-80.01, 86.36) -> (-118.11, 86.36)
  line L1 (-118.11, 86.36) -> (-118.11, 96.52)
  line L2 (-118.11, 96.52) -> (-80.01, 96.52)
  line L3 (-80.01, 96.52) -> (-80.01, 86.36)
  circle A0 centre (-119.38, 113.03) radius 4.191 projected
  circle A1 centre (-86.36, 113.03) radius 4.191 projected
  point P0 (0, 0)
  dimension "d195" = 10.16
  dimension "d272" = 16.51
  dimension "d273" = 6.35
  dimension "d274" = 38.1
extrude "Extrusion16" cut sketch "Sketch20" against normal blind 12.7 contours L0 L1 L2 L3
equation "\"d25\" = d26"
equation "\"d27\" = d26"
equation "\"d28\" = d26"
equation "\"d30\" = d29"
equation "\"d33\" = d32"
equation "\"d35\" = d34"
equation "\"d44\" = d43"
equation "\"d90\" = d55"
equation "\"d97\" = d96"
equation "\"d98\" = d96"
equation "\"d113\" = d115"
equation "\"d114\" = d115"
equation "\"d115\" = d116"
equation "\"d120\" = d119"
equation "\"d124\" = d123"
equation "\"d162\" = d161"
equation "\"d127\" = d136"
equation "\"d129\" = d136"
equation "\"d130\" = d128"
equation "\"d133\" = d136"
equation "\"d137\" = d131"
equation "\"d138\" = d135"
equation "\"d158\" = d157"
equation "\"d142\" = d143"
equation "\"d156\" = d155"
equation "\"d164\" = d168"
equation "\"d166\" = d171"
equation "\"d168\" = d165"
equation "\"d169\" = d165"
equation "\"d185\" = d183"
equation "\"d186\" = d180"
equation "\"d187\" = d186"
equation "\"d188\" = d185"
equation "\"d189\" = d181"
equation "\"d190\" = d184"
equation "\"d201\" = d202"
equation "\"d203\" = d201"
equation "\"d204\" = d201"
equation "\"d207\" = d206"
equation "\"d209\" = d208"
equation "\"d210\" = d205"
equation "\"d212\" = d211"
equation "\"d68\" = d67"
equation "\"d70\" = d71"
equation "\"d71\" = d68"
equation "\"d72\" = d69"
equation "\"d74\" = d73"
equation "\"d101\" = d83"
properties part number "Base"
